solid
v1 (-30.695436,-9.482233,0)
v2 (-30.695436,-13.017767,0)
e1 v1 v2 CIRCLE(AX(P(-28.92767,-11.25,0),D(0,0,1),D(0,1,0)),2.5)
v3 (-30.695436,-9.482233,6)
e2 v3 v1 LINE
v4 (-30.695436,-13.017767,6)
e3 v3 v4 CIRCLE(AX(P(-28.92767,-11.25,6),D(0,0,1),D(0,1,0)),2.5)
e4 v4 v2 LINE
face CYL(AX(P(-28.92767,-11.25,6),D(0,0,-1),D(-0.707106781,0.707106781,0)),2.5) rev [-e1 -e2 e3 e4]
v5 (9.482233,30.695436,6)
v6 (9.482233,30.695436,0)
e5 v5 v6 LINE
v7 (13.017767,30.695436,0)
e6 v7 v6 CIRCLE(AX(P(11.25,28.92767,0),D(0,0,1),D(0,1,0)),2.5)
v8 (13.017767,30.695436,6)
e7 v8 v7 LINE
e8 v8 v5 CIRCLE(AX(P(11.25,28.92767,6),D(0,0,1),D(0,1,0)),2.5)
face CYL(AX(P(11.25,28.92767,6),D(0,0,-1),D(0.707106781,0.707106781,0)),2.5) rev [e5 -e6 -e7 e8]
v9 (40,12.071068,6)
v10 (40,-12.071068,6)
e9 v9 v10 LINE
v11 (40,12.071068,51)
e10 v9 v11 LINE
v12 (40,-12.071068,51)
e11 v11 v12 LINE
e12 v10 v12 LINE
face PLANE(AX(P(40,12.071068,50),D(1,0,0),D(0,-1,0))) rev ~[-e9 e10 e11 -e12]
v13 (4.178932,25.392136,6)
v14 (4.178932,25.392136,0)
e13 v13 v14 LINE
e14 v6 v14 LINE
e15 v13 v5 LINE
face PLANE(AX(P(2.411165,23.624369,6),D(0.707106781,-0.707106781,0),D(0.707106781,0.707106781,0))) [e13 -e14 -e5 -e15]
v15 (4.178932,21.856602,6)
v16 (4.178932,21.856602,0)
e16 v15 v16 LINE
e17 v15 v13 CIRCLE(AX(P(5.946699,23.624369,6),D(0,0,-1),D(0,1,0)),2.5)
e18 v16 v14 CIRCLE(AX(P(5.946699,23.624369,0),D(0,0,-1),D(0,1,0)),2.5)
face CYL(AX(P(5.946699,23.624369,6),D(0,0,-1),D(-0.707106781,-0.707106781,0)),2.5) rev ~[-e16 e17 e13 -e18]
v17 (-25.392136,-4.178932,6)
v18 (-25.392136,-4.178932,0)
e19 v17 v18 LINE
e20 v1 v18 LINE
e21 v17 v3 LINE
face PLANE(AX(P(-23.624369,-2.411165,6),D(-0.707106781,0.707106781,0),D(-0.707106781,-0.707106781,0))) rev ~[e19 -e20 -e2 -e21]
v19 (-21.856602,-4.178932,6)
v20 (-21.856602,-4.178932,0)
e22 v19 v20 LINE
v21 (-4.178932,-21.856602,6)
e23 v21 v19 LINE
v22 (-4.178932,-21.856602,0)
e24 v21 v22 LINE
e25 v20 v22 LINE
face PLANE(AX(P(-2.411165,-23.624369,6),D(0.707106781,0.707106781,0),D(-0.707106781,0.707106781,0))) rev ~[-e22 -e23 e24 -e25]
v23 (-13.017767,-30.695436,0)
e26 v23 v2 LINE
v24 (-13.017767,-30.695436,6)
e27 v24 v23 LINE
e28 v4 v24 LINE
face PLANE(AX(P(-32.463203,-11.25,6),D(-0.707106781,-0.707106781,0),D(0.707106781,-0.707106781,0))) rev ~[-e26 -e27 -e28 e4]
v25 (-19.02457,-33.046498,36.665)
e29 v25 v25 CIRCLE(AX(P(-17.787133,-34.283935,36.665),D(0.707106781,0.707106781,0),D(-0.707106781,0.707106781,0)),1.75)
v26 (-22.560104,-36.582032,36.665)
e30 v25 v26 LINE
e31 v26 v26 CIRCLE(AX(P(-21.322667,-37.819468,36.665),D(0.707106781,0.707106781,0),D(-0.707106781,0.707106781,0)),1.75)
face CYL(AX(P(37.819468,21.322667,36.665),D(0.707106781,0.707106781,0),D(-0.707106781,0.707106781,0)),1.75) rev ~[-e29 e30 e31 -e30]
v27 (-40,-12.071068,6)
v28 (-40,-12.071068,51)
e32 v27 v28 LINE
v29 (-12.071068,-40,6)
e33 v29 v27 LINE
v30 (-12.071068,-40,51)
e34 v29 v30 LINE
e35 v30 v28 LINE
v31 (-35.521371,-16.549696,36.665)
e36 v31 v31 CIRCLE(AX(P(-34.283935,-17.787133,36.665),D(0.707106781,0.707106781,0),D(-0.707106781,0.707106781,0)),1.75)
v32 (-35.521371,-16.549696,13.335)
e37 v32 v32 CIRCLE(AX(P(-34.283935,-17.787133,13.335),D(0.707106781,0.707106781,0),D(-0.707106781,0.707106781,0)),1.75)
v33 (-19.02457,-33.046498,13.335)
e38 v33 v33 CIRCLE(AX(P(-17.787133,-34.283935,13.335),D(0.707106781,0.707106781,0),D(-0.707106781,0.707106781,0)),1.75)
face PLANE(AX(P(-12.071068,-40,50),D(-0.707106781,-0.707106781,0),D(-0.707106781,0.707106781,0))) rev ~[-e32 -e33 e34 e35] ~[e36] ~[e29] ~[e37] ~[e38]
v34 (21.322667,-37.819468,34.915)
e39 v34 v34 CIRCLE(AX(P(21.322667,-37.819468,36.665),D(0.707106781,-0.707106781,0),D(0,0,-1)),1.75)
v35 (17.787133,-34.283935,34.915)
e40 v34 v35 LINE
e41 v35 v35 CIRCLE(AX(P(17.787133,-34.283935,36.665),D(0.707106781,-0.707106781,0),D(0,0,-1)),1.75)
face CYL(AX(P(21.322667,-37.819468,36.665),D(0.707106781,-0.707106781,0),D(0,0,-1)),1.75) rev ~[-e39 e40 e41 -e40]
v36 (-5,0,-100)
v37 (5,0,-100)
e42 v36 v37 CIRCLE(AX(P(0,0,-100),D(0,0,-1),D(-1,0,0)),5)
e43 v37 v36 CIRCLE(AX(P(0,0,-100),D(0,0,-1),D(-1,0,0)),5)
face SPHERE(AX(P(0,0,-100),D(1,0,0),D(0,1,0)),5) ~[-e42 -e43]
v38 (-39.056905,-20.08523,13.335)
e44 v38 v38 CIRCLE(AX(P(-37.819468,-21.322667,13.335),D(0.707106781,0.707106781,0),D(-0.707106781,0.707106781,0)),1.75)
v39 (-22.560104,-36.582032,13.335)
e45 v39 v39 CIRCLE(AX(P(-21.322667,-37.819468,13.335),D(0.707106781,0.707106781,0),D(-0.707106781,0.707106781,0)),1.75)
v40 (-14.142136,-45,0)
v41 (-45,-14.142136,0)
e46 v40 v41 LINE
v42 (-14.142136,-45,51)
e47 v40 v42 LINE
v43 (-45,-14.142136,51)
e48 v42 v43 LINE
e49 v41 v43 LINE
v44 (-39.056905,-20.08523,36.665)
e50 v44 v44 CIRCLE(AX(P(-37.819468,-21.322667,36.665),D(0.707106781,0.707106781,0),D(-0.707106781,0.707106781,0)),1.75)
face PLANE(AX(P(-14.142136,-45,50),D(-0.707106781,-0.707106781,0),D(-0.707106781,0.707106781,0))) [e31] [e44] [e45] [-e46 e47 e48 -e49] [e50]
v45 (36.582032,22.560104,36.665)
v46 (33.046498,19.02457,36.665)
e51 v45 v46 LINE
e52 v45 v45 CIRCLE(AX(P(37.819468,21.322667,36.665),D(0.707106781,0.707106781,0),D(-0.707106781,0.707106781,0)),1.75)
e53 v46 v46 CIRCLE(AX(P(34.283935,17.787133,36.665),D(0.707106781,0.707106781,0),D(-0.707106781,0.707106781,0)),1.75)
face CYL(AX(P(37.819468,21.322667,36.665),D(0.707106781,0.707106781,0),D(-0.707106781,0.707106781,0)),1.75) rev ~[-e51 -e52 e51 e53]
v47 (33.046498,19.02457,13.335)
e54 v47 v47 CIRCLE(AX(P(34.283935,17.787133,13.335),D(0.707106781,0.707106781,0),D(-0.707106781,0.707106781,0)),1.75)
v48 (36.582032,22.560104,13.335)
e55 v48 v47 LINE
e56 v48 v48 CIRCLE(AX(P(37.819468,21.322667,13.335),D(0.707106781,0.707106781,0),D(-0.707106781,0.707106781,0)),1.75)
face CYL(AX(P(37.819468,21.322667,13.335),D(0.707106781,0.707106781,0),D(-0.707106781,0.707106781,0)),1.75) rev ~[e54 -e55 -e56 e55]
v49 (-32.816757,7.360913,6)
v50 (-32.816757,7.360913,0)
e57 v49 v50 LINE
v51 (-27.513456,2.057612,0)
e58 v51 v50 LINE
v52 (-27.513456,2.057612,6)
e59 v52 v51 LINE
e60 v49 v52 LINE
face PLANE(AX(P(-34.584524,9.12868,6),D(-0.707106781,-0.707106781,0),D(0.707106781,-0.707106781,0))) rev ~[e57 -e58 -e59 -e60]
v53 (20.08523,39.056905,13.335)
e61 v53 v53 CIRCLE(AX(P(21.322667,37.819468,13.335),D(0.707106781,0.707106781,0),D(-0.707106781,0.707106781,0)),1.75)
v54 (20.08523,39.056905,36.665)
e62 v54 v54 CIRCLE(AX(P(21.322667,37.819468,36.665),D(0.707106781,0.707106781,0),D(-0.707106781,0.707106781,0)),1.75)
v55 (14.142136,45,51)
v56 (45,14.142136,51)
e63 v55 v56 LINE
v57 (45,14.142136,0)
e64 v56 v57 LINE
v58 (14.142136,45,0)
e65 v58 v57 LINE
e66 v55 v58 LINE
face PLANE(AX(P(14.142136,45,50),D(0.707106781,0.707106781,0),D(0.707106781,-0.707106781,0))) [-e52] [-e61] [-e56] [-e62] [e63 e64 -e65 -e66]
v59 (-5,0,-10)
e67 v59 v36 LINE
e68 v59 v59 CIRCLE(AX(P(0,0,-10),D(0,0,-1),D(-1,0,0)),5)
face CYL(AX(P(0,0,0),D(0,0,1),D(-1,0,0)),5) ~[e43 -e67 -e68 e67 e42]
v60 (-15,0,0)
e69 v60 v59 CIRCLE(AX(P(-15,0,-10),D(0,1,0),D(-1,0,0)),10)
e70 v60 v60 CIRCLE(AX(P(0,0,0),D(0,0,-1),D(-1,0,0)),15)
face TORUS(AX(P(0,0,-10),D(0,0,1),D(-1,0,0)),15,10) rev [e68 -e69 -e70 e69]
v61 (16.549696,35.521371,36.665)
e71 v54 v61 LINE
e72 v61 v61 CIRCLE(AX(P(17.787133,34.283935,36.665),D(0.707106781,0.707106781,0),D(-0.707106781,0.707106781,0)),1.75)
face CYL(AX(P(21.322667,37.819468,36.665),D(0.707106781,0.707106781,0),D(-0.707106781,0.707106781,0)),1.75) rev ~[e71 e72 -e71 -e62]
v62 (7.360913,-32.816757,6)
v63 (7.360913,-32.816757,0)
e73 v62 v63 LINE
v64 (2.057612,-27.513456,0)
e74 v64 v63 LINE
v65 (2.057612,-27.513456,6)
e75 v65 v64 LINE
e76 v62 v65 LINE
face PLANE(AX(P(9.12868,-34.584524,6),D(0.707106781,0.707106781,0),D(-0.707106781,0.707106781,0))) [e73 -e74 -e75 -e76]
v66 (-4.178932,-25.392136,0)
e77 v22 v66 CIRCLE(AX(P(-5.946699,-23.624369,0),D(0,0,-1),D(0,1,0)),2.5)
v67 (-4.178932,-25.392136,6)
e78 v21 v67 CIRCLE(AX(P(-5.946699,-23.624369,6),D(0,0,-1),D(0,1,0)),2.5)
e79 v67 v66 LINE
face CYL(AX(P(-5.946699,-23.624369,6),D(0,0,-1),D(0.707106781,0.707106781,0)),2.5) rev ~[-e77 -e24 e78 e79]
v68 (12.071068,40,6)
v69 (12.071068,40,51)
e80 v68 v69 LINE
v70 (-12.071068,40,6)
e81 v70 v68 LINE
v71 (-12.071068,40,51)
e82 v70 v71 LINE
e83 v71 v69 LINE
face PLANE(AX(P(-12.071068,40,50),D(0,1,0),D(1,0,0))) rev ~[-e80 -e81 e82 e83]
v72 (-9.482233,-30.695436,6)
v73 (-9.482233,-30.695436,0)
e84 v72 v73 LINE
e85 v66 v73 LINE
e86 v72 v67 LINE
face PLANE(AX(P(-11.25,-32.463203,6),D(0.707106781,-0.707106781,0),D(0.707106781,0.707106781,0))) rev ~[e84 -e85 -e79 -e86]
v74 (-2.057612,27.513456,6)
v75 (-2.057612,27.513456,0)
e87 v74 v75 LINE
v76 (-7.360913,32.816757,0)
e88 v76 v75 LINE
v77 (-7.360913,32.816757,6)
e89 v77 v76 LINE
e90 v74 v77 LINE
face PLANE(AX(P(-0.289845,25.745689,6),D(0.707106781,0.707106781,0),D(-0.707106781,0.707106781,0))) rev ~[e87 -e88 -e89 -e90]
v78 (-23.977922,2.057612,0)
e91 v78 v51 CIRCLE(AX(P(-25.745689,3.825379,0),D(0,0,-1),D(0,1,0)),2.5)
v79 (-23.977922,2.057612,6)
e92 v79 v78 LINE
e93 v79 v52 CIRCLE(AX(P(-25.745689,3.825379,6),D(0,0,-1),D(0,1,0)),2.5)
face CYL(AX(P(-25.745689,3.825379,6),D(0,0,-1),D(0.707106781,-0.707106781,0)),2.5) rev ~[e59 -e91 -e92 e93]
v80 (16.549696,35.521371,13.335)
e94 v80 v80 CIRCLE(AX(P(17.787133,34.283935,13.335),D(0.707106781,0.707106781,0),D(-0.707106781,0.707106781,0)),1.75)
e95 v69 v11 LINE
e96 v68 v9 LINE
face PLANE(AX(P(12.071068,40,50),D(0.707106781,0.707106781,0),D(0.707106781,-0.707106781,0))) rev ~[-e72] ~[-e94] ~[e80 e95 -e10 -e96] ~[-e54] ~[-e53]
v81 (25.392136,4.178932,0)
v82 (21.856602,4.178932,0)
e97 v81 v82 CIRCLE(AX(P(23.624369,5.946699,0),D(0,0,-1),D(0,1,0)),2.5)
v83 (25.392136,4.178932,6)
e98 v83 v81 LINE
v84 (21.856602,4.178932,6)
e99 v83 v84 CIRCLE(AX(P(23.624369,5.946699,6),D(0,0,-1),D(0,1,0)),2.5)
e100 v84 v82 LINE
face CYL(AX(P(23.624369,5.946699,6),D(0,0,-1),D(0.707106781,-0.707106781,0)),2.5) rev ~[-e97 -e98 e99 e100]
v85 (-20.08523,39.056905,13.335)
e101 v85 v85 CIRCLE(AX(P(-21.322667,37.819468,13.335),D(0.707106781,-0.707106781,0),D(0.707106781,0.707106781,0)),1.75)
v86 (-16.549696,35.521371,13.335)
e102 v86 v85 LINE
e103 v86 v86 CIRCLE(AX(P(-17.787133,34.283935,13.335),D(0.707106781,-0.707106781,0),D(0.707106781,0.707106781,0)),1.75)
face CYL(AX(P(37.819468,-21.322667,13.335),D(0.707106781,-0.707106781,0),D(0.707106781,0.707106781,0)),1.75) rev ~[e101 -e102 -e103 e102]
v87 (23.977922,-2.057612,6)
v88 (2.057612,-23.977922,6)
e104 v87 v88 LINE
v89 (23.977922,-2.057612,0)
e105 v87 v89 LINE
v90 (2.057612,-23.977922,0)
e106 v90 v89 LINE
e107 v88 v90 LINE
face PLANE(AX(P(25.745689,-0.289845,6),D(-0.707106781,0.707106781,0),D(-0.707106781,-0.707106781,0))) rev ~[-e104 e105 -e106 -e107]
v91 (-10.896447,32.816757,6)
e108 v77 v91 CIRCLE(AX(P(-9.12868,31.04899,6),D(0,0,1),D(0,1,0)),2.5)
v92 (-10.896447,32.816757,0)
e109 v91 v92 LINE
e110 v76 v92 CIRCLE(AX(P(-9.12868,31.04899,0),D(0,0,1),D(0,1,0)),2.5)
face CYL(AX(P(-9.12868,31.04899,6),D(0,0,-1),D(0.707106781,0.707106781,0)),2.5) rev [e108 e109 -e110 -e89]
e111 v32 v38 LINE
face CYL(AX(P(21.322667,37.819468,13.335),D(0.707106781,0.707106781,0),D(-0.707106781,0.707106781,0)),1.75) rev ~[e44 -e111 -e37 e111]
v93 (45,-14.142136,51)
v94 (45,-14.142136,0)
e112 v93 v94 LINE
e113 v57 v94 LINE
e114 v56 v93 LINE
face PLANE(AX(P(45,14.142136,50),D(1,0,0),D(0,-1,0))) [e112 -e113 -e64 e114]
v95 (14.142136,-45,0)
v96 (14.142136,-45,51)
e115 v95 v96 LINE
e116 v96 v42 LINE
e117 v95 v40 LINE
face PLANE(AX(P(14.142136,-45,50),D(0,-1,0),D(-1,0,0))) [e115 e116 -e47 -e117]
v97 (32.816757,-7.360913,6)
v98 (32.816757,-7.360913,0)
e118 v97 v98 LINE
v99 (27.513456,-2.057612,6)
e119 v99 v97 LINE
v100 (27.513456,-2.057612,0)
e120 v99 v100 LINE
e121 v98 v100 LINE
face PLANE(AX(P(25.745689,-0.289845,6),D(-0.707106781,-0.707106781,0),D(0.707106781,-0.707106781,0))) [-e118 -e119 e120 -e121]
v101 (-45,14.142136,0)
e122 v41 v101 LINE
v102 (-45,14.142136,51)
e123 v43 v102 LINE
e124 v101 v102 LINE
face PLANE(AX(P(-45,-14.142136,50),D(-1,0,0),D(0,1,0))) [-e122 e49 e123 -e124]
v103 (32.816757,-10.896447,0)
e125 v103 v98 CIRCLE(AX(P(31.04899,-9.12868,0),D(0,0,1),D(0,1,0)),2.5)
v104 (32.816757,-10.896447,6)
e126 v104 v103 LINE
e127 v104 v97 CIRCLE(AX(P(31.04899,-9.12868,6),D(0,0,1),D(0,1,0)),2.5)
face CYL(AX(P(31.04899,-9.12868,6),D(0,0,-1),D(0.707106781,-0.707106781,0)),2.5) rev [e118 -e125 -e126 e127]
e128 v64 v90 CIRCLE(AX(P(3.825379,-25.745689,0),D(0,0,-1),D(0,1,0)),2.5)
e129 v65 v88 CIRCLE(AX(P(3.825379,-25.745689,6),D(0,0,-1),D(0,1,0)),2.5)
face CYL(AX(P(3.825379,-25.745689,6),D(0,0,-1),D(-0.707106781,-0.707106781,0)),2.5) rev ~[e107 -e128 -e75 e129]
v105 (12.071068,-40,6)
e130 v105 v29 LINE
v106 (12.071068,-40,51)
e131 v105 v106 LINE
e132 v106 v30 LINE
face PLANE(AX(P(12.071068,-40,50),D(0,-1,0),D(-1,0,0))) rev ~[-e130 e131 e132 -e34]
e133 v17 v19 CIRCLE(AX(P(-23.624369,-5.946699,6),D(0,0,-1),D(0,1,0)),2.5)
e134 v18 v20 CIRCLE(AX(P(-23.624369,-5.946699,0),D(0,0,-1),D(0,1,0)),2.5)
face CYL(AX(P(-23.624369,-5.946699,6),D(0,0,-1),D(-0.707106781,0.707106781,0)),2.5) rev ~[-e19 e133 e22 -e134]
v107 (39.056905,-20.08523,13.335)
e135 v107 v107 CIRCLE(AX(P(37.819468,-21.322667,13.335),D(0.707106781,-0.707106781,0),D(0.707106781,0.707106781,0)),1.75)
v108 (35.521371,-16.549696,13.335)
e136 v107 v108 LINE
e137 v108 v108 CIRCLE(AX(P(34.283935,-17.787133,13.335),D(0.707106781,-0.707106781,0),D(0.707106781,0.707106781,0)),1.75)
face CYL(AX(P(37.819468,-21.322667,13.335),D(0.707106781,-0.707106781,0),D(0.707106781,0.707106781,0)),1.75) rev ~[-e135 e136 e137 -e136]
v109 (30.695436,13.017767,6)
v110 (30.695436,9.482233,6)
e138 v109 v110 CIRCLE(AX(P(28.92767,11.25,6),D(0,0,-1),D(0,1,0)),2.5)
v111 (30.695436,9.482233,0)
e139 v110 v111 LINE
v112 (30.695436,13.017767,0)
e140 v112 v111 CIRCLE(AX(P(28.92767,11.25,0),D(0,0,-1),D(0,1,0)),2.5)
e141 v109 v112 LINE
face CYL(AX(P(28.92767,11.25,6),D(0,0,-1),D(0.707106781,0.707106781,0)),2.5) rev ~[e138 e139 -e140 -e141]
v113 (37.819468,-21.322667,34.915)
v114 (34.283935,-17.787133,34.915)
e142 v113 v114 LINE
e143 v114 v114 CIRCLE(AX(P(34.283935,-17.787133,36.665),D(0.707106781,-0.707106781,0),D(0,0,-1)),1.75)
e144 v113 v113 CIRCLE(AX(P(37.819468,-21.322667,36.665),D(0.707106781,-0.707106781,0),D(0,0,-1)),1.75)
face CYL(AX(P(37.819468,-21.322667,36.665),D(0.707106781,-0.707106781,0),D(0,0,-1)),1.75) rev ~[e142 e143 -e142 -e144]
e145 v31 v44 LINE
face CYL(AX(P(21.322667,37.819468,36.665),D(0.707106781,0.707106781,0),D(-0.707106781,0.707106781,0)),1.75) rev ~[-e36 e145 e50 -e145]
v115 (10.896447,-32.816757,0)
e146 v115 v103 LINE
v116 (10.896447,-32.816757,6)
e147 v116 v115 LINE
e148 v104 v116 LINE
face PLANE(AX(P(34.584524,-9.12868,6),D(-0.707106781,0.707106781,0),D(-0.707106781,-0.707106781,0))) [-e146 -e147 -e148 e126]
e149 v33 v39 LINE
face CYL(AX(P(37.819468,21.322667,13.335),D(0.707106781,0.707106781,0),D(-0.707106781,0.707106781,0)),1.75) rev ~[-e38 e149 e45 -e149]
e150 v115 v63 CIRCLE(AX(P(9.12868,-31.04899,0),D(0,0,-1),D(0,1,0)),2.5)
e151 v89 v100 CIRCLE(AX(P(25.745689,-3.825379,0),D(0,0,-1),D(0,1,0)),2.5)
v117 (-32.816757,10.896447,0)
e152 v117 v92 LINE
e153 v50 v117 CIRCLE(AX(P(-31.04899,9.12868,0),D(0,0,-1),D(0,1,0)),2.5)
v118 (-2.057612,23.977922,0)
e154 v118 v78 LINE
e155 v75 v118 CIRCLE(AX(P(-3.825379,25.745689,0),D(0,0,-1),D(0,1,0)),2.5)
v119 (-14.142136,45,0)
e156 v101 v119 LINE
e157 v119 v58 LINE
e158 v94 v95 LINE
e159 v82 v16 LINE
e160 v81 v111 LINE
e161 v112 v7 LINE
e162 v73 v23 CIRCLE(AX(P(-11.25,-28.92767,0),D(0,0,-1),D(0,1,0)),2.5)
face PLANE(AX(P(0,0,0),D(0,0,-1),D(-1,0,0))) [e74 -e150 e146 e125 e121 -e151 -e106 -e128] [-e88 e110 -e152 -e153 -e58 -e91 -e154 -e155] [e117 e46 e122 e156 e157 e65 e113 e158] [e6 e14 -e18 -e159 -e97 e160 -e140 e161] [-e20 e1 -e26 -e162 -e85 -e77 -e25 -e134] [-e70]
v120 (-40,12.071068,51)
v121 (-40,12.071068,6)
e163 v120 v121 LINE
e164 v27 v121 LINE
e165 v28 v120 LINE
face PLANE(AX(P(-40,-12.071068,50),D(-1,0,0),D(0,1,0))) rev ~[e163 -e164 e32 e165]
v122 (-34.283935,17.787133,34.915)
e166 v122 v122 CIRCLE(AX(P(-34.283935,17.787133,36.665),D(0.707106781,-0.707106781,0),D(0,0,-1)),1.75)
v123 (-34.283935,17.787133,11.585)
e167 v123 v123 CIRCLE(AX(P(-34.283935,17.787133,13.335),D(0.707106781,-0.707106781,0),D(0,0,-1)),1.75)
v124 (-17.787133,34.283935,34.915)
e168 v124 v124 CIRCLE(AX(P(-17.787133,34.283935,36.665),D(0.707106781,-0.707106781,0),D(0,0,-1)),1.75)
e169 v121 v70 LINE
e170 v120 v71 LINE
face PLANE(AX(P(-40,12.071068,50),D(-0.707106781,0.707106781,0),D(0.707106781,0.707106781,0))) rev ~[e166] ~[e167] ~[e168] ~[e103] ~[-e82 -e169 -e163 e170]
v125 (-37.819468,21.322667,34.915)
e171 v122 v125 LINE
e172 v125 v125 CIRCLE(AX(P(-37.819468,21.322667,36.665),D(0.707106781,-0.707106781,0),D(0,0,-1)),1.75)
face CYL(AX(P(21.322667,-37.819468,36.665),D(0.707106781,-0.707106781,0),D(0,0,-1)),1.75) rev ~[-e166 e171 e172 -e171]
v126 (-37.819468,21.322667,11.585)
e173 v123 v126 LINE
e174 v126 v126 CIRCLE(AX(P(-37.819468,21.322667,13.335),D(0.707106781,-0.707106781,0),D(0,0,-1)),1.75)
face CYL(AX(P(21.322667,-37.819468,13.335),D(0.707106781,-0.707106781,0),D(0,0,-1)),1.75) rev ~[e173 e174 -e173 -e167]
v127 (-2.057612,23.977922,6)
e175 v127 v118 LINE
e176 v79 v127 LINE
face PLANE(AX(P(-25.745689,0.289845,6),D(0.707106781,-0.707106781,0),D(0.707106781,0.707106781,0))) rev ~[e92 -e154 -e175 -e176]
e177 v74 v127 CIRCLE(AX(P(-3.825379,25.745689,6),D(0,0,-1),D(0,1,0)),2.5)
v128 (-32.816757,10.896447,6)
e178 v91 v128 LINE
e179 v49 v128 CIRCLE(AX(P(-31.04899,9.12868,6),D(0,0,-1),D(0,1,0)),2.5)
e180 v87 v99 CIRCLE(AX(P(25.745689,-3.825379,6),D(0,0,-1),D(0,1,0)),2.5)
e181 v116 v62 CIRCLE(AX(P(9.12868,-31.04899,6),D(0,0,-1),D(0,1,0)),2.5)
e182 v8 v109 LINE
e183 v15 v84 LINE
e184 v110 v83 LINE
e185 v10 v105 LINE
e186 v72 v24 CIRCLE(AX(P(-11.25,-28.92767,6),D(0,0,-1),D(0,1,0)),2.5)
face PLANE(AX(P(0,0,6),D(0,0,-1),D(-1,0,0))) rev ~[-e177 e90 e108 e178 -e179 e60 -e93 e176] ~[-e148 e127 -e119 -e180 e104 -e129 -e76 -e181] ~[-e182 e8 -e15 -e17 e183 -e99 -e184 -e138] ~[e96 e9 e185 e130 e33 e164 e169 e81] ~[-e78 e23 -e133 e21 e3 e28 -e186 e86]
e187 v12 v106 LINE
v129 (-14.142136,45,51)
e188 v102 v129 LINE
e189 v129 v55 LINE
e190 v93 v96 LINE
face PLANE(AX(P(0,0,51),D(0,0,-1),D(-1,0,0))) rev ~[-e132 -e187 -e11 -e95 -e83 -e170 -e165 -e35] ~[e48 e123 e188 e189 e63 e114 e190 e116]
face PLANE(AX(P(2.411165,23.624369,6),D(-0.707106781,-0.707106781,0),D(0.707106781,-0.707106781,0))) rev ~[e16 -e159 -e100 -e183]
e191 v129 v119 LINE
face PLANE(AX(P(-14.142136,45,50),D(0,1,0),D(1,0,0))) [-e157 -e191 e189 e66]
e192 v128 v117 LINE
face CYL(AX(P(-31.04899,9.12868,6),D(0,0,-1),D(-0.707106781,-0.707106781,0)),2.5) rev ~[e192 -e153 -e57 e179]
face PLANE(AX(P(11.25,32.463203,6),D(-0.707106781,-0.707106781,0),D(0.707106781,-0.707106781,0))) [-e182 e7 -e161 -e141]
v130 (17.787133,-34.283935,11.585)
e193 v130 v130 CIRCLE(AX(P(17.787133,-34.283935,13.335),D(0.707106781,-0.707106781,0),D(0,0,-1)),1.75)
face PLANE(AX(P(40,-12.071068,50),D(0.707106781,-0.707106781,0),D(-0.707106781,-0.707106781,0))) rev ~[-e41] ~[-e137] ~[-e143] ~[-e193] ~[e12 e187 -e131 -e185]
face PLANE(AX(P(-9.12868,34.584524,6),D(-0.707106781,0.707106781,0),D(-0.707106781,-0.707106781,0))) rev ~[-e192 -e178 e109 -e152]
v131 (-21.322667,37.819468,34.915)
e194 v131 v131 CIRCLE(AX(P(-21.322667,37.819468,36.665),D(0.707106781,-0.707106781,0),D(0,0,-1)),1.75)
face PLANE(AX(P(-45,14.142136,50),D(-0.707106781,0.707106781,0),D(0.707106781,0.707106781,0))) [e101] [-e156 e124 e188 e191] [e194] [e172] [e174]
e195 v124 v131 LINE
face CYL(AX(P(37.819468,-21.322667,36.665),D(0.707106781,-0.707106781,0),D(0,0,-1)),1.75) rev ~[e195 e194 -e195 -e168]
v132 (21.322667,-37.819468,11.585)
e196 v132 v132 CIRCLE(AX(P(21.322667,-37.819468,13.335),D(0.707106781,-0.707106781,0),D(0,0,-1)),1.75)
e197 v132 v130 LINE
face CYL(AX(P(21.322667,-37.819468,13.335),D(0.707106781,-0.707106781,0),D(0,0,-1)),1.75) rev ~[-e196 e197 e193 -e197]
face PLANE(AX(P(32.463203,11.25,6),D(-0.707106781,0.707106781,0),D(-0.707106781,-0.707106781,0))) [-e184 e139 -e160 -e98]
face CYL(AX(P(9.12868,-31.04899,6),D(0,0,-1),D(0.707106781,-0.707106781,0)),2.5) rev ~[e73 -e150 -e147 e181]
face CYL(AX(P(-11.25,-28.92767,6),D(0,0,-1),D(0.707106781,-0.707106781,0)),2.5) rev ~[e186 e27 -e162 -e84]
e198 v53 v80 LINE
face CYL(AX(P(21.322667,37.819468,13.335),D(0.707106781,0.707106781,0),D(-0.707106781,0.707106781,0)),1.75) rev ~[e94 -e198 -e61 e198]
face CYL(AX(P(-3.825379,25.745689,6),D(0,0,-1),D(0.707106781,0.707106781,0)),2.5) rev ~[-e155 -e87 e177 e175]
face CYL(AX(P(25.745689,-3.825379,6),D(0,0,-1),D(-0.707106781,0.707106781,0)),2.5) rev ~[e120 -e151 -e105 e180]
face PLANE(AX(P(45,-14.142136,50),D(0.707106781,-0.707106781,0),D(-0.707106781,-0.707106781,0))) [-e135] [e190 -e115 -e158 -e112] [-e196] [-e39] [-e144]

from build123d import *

# Parameters (mm, degrees)
BOSS_EXTRU_2_DEPTH      = 50
ESQUISSE5_R             = 1.75
ENL_V_MAT_EXTRU_2_DEPTH = 117.711988712
ESQUISSE6_R             = 1.75
ENL_V_MAT_EXTRU_3_DEPTH = 117.711988712
ENL_V_MAT_EXTRU_5_DEPTH = 44
ESQUISSE8_R             = 5
BOSS_EXTRU_3_DEPTH      = 100
ENL_V_MAT_EXTRU_6_DEPTH = 124.636564171
CONG_1_R                = 2.5
R_VOLUTION1_ANGLE       = 180
BOSS_EXTRU_4_DEPTH      = 1
CONG_2_R                = 10


with BuildPart() as part:
    # Esquisse4 → Boss.-Extru.2 (new body)
    with BuildSketch(Plane.XY):
        Polygon((-14.142135624, 45), (14.142135624, 45), (45, 14.142135624), (45, -14.142135624), (14.142135624, -45), (-14.142135624, -45), (-45, -14.142135624), (-45, 14.142135624), align=None)
    extrude(amount=BOSS_EXTRU_2_DEPTH)

    # Esquisse5 → Enlèv. mat.-Extru.2 (cut, through all)
    with BuildSketch(Plane(origin=(29.571067812, 29.571067812, 0), x_dir=(0, 0, -1), z_dir=(0.7071067811865474, 0.7071067811865477, 0))):
        with Locations(Location((-13.335, 11.665, 0), (0, 0, 90))):
            Circle(ESQUISSE5_R)
        with Locations(Location((-36.665, 11.665, 0), (0, 0, 90))):
            Circle(ESQUISSE5_R)
        with Locations(Location((-13.335, -11.665, 0), (0, 0, 90))):
            Circle(ESQUISSE5_R)
        with Locations(Location((-36.665, -11.665, 0), (0, 0, 90))):
            Circle(ESQUISSE5_R)
    extrude(amount=-ENL_V_MAT_EXTRU_2_DEPTH, mode=Mode.SUBTRACT)

    # Esquisse6 → Enlèv. mat.-Extru.3 (cut, through all)
    with BuildSketch(Plane(origin=(29.571067812, -29.571067812, 0), x_dir=(0, 0, -1), z_dir=(0.7071067811865476, -0.7071067811865476, 0))):
        with Locations(Location((-13.335, 11.665, 0), (0, 0, 90))):
            Circle(ESQUISSE6_R)
        with Locations((-36.665, 11.665)):
            Circle(ESQUISSE6_R)
        with Locations((-13.335, -11.665)):
            Circle(ESQUISSE6_R)
        with Locations((-36.665, -11.665)):
            Circle(ESQUISSE6_R)
    extrude(amount=-ENL_V_MAT_EXTRU_3_DEPTH, mode=Mode.SUBTRACT)

    # Esquisse7 → Enlèv. mat.-Extru.5 (cut)
    with BuildSketch(Plane.XY.offset(50)):
        Polygon((-40, 12.071067812), (-12.071067812, 40), (12.071067812, 40), (40, 12.071067812), (40, -12.071067812), (12.071067812, -40), (-12.071067812, -40), (-40, -12.071067812), align=None)
    extrude(amount=-ENL_V_MAT_EXTRU_5_DEPTH, mode=Mode.SUBTRACT)

    # Esquisse8 → Boss.-Extru.3 (add)
    with BuildSketch(Plane(origin=(0, 0, 0), x_dir=(-1, 0, 0), z_dir=(0, 0, -1))):
        Circle(ESQUISSE8_R)
    extrude(amount=BOSS_EXTRU_3_DEPTH)

    # Esquisse9 → Enlèv. mat.-Extru.6 (cut, through all)
    with BuildSketch(Plane.XY.offset(6)):
        Polygon((-13.017766953, 13.017766953), (-0.289844892, 25.745689014), (-9.128679656, 34.584523779), (-34.584523779, 9.128679656), (-25.745689014, 0.289844892), align=None)
        Polygon((25.745689014, -0.289844892), (34.584523779, -9.128679656), (9.128679656, -34.584523779), (0.289844892, -25.745689014), (13.017766953, -13.017766953), align=None)
        Polygon((-13.017766953, -13.017766953), (-23.624368671, -2.411165235), (-32.463203436, -11.25), (-11.25, -32.463203436), (-2.411165235, -23.624368671), align=None)
        Polygon((2.411165235, 23.624368671), (11.25, 32.463203436), (32.463203436, 11.25), (23.624368671, 2.411165235), (13.017766953, 13.017766953), align=None)
    extrude(amount=-ENL_V_MAT_EXTRU_6_DEPTH, mode=Mode.SUBTRACT)

    # Congé1
    cong_1_edges = [part.edges().sort_by_distance(p)[0] for p in [
        (2.411165235, 23.624368671, 3),
        (11.25, 32.463203436, 3),
        (32.463203436, 11.25, 3),
        (23.624368671, 2.411165235, 3),
        (-2.411165235, -23.624368671, 3),
        (-11.25, -32.463203436, 3),
        (-32.463203436, -11.25, 3),
        (-23.624368671, -2.411165235, 3),
        (25.745689014, -0.289844892, 3),
        (34.584523779, -9.128679656, 3),
        (9.128679656, -34.584523779, 3),
        (0.289844892, -25.745689014, 3),
        (-25.745689014, 0.289844892, 3),
        (-34.584523779, 9.128679656, 3),
        (-9.128679656, 34.584523779, 3),
        (-0.289844892, 25.745689014, 3),
    ]]
    fillet(cong_1_edges, radius=CONG_1_R)

    # Esquisse12 → Révolution1 (revolve)
    with BuildSketch(Plane(origin=(0, 0, -100), x_dir=(-1, 0, 0), z_dir=(0, 0, -1))):
        with BuildLine():
            Line((-5, 0), (5, 0))
            ThreePointArc((5, 0), (0, 5), (-5, 0))
        make_face()
    revolve(axis=Axis((5, 0, -100), (-1, 0, 0)), revolution_arc=R_VOLUTION1_ANGLE)

    # Esquisse13 → Boss.-Extru.4 (add)
    with BuildSketch(Plane.XY.offset(50)):
        Polygon((-45, 14.142135624), (-14.142135624, 45), (14.142135624, 45), (45, 14.142135624), (45, -14.142135624), (14.142135624, -45), (-14.142135624, -45), (-45, -14.142135624), align=None)
        Polygon((-40, 12.071067812), (-12.071067812, 40), (12.071067812, 40), (40, 12.071067812), (40, -12.071067812), (12.071067812, -40), (-12.071067812, -40), (-40, -12.071067812), align=None, mode=Mode.SUBTRACT)
    extrude(amount=BOSS_EXTRU_4_DEPTH)

    # Congé2
    cong_2_edges = [part.edges().sort_by_distance(p)[0] for p in [
        (5, 0, 0),
    ]]
    fillet(cong_2_edges, radius=CONG_2_R)


solid = part.part
